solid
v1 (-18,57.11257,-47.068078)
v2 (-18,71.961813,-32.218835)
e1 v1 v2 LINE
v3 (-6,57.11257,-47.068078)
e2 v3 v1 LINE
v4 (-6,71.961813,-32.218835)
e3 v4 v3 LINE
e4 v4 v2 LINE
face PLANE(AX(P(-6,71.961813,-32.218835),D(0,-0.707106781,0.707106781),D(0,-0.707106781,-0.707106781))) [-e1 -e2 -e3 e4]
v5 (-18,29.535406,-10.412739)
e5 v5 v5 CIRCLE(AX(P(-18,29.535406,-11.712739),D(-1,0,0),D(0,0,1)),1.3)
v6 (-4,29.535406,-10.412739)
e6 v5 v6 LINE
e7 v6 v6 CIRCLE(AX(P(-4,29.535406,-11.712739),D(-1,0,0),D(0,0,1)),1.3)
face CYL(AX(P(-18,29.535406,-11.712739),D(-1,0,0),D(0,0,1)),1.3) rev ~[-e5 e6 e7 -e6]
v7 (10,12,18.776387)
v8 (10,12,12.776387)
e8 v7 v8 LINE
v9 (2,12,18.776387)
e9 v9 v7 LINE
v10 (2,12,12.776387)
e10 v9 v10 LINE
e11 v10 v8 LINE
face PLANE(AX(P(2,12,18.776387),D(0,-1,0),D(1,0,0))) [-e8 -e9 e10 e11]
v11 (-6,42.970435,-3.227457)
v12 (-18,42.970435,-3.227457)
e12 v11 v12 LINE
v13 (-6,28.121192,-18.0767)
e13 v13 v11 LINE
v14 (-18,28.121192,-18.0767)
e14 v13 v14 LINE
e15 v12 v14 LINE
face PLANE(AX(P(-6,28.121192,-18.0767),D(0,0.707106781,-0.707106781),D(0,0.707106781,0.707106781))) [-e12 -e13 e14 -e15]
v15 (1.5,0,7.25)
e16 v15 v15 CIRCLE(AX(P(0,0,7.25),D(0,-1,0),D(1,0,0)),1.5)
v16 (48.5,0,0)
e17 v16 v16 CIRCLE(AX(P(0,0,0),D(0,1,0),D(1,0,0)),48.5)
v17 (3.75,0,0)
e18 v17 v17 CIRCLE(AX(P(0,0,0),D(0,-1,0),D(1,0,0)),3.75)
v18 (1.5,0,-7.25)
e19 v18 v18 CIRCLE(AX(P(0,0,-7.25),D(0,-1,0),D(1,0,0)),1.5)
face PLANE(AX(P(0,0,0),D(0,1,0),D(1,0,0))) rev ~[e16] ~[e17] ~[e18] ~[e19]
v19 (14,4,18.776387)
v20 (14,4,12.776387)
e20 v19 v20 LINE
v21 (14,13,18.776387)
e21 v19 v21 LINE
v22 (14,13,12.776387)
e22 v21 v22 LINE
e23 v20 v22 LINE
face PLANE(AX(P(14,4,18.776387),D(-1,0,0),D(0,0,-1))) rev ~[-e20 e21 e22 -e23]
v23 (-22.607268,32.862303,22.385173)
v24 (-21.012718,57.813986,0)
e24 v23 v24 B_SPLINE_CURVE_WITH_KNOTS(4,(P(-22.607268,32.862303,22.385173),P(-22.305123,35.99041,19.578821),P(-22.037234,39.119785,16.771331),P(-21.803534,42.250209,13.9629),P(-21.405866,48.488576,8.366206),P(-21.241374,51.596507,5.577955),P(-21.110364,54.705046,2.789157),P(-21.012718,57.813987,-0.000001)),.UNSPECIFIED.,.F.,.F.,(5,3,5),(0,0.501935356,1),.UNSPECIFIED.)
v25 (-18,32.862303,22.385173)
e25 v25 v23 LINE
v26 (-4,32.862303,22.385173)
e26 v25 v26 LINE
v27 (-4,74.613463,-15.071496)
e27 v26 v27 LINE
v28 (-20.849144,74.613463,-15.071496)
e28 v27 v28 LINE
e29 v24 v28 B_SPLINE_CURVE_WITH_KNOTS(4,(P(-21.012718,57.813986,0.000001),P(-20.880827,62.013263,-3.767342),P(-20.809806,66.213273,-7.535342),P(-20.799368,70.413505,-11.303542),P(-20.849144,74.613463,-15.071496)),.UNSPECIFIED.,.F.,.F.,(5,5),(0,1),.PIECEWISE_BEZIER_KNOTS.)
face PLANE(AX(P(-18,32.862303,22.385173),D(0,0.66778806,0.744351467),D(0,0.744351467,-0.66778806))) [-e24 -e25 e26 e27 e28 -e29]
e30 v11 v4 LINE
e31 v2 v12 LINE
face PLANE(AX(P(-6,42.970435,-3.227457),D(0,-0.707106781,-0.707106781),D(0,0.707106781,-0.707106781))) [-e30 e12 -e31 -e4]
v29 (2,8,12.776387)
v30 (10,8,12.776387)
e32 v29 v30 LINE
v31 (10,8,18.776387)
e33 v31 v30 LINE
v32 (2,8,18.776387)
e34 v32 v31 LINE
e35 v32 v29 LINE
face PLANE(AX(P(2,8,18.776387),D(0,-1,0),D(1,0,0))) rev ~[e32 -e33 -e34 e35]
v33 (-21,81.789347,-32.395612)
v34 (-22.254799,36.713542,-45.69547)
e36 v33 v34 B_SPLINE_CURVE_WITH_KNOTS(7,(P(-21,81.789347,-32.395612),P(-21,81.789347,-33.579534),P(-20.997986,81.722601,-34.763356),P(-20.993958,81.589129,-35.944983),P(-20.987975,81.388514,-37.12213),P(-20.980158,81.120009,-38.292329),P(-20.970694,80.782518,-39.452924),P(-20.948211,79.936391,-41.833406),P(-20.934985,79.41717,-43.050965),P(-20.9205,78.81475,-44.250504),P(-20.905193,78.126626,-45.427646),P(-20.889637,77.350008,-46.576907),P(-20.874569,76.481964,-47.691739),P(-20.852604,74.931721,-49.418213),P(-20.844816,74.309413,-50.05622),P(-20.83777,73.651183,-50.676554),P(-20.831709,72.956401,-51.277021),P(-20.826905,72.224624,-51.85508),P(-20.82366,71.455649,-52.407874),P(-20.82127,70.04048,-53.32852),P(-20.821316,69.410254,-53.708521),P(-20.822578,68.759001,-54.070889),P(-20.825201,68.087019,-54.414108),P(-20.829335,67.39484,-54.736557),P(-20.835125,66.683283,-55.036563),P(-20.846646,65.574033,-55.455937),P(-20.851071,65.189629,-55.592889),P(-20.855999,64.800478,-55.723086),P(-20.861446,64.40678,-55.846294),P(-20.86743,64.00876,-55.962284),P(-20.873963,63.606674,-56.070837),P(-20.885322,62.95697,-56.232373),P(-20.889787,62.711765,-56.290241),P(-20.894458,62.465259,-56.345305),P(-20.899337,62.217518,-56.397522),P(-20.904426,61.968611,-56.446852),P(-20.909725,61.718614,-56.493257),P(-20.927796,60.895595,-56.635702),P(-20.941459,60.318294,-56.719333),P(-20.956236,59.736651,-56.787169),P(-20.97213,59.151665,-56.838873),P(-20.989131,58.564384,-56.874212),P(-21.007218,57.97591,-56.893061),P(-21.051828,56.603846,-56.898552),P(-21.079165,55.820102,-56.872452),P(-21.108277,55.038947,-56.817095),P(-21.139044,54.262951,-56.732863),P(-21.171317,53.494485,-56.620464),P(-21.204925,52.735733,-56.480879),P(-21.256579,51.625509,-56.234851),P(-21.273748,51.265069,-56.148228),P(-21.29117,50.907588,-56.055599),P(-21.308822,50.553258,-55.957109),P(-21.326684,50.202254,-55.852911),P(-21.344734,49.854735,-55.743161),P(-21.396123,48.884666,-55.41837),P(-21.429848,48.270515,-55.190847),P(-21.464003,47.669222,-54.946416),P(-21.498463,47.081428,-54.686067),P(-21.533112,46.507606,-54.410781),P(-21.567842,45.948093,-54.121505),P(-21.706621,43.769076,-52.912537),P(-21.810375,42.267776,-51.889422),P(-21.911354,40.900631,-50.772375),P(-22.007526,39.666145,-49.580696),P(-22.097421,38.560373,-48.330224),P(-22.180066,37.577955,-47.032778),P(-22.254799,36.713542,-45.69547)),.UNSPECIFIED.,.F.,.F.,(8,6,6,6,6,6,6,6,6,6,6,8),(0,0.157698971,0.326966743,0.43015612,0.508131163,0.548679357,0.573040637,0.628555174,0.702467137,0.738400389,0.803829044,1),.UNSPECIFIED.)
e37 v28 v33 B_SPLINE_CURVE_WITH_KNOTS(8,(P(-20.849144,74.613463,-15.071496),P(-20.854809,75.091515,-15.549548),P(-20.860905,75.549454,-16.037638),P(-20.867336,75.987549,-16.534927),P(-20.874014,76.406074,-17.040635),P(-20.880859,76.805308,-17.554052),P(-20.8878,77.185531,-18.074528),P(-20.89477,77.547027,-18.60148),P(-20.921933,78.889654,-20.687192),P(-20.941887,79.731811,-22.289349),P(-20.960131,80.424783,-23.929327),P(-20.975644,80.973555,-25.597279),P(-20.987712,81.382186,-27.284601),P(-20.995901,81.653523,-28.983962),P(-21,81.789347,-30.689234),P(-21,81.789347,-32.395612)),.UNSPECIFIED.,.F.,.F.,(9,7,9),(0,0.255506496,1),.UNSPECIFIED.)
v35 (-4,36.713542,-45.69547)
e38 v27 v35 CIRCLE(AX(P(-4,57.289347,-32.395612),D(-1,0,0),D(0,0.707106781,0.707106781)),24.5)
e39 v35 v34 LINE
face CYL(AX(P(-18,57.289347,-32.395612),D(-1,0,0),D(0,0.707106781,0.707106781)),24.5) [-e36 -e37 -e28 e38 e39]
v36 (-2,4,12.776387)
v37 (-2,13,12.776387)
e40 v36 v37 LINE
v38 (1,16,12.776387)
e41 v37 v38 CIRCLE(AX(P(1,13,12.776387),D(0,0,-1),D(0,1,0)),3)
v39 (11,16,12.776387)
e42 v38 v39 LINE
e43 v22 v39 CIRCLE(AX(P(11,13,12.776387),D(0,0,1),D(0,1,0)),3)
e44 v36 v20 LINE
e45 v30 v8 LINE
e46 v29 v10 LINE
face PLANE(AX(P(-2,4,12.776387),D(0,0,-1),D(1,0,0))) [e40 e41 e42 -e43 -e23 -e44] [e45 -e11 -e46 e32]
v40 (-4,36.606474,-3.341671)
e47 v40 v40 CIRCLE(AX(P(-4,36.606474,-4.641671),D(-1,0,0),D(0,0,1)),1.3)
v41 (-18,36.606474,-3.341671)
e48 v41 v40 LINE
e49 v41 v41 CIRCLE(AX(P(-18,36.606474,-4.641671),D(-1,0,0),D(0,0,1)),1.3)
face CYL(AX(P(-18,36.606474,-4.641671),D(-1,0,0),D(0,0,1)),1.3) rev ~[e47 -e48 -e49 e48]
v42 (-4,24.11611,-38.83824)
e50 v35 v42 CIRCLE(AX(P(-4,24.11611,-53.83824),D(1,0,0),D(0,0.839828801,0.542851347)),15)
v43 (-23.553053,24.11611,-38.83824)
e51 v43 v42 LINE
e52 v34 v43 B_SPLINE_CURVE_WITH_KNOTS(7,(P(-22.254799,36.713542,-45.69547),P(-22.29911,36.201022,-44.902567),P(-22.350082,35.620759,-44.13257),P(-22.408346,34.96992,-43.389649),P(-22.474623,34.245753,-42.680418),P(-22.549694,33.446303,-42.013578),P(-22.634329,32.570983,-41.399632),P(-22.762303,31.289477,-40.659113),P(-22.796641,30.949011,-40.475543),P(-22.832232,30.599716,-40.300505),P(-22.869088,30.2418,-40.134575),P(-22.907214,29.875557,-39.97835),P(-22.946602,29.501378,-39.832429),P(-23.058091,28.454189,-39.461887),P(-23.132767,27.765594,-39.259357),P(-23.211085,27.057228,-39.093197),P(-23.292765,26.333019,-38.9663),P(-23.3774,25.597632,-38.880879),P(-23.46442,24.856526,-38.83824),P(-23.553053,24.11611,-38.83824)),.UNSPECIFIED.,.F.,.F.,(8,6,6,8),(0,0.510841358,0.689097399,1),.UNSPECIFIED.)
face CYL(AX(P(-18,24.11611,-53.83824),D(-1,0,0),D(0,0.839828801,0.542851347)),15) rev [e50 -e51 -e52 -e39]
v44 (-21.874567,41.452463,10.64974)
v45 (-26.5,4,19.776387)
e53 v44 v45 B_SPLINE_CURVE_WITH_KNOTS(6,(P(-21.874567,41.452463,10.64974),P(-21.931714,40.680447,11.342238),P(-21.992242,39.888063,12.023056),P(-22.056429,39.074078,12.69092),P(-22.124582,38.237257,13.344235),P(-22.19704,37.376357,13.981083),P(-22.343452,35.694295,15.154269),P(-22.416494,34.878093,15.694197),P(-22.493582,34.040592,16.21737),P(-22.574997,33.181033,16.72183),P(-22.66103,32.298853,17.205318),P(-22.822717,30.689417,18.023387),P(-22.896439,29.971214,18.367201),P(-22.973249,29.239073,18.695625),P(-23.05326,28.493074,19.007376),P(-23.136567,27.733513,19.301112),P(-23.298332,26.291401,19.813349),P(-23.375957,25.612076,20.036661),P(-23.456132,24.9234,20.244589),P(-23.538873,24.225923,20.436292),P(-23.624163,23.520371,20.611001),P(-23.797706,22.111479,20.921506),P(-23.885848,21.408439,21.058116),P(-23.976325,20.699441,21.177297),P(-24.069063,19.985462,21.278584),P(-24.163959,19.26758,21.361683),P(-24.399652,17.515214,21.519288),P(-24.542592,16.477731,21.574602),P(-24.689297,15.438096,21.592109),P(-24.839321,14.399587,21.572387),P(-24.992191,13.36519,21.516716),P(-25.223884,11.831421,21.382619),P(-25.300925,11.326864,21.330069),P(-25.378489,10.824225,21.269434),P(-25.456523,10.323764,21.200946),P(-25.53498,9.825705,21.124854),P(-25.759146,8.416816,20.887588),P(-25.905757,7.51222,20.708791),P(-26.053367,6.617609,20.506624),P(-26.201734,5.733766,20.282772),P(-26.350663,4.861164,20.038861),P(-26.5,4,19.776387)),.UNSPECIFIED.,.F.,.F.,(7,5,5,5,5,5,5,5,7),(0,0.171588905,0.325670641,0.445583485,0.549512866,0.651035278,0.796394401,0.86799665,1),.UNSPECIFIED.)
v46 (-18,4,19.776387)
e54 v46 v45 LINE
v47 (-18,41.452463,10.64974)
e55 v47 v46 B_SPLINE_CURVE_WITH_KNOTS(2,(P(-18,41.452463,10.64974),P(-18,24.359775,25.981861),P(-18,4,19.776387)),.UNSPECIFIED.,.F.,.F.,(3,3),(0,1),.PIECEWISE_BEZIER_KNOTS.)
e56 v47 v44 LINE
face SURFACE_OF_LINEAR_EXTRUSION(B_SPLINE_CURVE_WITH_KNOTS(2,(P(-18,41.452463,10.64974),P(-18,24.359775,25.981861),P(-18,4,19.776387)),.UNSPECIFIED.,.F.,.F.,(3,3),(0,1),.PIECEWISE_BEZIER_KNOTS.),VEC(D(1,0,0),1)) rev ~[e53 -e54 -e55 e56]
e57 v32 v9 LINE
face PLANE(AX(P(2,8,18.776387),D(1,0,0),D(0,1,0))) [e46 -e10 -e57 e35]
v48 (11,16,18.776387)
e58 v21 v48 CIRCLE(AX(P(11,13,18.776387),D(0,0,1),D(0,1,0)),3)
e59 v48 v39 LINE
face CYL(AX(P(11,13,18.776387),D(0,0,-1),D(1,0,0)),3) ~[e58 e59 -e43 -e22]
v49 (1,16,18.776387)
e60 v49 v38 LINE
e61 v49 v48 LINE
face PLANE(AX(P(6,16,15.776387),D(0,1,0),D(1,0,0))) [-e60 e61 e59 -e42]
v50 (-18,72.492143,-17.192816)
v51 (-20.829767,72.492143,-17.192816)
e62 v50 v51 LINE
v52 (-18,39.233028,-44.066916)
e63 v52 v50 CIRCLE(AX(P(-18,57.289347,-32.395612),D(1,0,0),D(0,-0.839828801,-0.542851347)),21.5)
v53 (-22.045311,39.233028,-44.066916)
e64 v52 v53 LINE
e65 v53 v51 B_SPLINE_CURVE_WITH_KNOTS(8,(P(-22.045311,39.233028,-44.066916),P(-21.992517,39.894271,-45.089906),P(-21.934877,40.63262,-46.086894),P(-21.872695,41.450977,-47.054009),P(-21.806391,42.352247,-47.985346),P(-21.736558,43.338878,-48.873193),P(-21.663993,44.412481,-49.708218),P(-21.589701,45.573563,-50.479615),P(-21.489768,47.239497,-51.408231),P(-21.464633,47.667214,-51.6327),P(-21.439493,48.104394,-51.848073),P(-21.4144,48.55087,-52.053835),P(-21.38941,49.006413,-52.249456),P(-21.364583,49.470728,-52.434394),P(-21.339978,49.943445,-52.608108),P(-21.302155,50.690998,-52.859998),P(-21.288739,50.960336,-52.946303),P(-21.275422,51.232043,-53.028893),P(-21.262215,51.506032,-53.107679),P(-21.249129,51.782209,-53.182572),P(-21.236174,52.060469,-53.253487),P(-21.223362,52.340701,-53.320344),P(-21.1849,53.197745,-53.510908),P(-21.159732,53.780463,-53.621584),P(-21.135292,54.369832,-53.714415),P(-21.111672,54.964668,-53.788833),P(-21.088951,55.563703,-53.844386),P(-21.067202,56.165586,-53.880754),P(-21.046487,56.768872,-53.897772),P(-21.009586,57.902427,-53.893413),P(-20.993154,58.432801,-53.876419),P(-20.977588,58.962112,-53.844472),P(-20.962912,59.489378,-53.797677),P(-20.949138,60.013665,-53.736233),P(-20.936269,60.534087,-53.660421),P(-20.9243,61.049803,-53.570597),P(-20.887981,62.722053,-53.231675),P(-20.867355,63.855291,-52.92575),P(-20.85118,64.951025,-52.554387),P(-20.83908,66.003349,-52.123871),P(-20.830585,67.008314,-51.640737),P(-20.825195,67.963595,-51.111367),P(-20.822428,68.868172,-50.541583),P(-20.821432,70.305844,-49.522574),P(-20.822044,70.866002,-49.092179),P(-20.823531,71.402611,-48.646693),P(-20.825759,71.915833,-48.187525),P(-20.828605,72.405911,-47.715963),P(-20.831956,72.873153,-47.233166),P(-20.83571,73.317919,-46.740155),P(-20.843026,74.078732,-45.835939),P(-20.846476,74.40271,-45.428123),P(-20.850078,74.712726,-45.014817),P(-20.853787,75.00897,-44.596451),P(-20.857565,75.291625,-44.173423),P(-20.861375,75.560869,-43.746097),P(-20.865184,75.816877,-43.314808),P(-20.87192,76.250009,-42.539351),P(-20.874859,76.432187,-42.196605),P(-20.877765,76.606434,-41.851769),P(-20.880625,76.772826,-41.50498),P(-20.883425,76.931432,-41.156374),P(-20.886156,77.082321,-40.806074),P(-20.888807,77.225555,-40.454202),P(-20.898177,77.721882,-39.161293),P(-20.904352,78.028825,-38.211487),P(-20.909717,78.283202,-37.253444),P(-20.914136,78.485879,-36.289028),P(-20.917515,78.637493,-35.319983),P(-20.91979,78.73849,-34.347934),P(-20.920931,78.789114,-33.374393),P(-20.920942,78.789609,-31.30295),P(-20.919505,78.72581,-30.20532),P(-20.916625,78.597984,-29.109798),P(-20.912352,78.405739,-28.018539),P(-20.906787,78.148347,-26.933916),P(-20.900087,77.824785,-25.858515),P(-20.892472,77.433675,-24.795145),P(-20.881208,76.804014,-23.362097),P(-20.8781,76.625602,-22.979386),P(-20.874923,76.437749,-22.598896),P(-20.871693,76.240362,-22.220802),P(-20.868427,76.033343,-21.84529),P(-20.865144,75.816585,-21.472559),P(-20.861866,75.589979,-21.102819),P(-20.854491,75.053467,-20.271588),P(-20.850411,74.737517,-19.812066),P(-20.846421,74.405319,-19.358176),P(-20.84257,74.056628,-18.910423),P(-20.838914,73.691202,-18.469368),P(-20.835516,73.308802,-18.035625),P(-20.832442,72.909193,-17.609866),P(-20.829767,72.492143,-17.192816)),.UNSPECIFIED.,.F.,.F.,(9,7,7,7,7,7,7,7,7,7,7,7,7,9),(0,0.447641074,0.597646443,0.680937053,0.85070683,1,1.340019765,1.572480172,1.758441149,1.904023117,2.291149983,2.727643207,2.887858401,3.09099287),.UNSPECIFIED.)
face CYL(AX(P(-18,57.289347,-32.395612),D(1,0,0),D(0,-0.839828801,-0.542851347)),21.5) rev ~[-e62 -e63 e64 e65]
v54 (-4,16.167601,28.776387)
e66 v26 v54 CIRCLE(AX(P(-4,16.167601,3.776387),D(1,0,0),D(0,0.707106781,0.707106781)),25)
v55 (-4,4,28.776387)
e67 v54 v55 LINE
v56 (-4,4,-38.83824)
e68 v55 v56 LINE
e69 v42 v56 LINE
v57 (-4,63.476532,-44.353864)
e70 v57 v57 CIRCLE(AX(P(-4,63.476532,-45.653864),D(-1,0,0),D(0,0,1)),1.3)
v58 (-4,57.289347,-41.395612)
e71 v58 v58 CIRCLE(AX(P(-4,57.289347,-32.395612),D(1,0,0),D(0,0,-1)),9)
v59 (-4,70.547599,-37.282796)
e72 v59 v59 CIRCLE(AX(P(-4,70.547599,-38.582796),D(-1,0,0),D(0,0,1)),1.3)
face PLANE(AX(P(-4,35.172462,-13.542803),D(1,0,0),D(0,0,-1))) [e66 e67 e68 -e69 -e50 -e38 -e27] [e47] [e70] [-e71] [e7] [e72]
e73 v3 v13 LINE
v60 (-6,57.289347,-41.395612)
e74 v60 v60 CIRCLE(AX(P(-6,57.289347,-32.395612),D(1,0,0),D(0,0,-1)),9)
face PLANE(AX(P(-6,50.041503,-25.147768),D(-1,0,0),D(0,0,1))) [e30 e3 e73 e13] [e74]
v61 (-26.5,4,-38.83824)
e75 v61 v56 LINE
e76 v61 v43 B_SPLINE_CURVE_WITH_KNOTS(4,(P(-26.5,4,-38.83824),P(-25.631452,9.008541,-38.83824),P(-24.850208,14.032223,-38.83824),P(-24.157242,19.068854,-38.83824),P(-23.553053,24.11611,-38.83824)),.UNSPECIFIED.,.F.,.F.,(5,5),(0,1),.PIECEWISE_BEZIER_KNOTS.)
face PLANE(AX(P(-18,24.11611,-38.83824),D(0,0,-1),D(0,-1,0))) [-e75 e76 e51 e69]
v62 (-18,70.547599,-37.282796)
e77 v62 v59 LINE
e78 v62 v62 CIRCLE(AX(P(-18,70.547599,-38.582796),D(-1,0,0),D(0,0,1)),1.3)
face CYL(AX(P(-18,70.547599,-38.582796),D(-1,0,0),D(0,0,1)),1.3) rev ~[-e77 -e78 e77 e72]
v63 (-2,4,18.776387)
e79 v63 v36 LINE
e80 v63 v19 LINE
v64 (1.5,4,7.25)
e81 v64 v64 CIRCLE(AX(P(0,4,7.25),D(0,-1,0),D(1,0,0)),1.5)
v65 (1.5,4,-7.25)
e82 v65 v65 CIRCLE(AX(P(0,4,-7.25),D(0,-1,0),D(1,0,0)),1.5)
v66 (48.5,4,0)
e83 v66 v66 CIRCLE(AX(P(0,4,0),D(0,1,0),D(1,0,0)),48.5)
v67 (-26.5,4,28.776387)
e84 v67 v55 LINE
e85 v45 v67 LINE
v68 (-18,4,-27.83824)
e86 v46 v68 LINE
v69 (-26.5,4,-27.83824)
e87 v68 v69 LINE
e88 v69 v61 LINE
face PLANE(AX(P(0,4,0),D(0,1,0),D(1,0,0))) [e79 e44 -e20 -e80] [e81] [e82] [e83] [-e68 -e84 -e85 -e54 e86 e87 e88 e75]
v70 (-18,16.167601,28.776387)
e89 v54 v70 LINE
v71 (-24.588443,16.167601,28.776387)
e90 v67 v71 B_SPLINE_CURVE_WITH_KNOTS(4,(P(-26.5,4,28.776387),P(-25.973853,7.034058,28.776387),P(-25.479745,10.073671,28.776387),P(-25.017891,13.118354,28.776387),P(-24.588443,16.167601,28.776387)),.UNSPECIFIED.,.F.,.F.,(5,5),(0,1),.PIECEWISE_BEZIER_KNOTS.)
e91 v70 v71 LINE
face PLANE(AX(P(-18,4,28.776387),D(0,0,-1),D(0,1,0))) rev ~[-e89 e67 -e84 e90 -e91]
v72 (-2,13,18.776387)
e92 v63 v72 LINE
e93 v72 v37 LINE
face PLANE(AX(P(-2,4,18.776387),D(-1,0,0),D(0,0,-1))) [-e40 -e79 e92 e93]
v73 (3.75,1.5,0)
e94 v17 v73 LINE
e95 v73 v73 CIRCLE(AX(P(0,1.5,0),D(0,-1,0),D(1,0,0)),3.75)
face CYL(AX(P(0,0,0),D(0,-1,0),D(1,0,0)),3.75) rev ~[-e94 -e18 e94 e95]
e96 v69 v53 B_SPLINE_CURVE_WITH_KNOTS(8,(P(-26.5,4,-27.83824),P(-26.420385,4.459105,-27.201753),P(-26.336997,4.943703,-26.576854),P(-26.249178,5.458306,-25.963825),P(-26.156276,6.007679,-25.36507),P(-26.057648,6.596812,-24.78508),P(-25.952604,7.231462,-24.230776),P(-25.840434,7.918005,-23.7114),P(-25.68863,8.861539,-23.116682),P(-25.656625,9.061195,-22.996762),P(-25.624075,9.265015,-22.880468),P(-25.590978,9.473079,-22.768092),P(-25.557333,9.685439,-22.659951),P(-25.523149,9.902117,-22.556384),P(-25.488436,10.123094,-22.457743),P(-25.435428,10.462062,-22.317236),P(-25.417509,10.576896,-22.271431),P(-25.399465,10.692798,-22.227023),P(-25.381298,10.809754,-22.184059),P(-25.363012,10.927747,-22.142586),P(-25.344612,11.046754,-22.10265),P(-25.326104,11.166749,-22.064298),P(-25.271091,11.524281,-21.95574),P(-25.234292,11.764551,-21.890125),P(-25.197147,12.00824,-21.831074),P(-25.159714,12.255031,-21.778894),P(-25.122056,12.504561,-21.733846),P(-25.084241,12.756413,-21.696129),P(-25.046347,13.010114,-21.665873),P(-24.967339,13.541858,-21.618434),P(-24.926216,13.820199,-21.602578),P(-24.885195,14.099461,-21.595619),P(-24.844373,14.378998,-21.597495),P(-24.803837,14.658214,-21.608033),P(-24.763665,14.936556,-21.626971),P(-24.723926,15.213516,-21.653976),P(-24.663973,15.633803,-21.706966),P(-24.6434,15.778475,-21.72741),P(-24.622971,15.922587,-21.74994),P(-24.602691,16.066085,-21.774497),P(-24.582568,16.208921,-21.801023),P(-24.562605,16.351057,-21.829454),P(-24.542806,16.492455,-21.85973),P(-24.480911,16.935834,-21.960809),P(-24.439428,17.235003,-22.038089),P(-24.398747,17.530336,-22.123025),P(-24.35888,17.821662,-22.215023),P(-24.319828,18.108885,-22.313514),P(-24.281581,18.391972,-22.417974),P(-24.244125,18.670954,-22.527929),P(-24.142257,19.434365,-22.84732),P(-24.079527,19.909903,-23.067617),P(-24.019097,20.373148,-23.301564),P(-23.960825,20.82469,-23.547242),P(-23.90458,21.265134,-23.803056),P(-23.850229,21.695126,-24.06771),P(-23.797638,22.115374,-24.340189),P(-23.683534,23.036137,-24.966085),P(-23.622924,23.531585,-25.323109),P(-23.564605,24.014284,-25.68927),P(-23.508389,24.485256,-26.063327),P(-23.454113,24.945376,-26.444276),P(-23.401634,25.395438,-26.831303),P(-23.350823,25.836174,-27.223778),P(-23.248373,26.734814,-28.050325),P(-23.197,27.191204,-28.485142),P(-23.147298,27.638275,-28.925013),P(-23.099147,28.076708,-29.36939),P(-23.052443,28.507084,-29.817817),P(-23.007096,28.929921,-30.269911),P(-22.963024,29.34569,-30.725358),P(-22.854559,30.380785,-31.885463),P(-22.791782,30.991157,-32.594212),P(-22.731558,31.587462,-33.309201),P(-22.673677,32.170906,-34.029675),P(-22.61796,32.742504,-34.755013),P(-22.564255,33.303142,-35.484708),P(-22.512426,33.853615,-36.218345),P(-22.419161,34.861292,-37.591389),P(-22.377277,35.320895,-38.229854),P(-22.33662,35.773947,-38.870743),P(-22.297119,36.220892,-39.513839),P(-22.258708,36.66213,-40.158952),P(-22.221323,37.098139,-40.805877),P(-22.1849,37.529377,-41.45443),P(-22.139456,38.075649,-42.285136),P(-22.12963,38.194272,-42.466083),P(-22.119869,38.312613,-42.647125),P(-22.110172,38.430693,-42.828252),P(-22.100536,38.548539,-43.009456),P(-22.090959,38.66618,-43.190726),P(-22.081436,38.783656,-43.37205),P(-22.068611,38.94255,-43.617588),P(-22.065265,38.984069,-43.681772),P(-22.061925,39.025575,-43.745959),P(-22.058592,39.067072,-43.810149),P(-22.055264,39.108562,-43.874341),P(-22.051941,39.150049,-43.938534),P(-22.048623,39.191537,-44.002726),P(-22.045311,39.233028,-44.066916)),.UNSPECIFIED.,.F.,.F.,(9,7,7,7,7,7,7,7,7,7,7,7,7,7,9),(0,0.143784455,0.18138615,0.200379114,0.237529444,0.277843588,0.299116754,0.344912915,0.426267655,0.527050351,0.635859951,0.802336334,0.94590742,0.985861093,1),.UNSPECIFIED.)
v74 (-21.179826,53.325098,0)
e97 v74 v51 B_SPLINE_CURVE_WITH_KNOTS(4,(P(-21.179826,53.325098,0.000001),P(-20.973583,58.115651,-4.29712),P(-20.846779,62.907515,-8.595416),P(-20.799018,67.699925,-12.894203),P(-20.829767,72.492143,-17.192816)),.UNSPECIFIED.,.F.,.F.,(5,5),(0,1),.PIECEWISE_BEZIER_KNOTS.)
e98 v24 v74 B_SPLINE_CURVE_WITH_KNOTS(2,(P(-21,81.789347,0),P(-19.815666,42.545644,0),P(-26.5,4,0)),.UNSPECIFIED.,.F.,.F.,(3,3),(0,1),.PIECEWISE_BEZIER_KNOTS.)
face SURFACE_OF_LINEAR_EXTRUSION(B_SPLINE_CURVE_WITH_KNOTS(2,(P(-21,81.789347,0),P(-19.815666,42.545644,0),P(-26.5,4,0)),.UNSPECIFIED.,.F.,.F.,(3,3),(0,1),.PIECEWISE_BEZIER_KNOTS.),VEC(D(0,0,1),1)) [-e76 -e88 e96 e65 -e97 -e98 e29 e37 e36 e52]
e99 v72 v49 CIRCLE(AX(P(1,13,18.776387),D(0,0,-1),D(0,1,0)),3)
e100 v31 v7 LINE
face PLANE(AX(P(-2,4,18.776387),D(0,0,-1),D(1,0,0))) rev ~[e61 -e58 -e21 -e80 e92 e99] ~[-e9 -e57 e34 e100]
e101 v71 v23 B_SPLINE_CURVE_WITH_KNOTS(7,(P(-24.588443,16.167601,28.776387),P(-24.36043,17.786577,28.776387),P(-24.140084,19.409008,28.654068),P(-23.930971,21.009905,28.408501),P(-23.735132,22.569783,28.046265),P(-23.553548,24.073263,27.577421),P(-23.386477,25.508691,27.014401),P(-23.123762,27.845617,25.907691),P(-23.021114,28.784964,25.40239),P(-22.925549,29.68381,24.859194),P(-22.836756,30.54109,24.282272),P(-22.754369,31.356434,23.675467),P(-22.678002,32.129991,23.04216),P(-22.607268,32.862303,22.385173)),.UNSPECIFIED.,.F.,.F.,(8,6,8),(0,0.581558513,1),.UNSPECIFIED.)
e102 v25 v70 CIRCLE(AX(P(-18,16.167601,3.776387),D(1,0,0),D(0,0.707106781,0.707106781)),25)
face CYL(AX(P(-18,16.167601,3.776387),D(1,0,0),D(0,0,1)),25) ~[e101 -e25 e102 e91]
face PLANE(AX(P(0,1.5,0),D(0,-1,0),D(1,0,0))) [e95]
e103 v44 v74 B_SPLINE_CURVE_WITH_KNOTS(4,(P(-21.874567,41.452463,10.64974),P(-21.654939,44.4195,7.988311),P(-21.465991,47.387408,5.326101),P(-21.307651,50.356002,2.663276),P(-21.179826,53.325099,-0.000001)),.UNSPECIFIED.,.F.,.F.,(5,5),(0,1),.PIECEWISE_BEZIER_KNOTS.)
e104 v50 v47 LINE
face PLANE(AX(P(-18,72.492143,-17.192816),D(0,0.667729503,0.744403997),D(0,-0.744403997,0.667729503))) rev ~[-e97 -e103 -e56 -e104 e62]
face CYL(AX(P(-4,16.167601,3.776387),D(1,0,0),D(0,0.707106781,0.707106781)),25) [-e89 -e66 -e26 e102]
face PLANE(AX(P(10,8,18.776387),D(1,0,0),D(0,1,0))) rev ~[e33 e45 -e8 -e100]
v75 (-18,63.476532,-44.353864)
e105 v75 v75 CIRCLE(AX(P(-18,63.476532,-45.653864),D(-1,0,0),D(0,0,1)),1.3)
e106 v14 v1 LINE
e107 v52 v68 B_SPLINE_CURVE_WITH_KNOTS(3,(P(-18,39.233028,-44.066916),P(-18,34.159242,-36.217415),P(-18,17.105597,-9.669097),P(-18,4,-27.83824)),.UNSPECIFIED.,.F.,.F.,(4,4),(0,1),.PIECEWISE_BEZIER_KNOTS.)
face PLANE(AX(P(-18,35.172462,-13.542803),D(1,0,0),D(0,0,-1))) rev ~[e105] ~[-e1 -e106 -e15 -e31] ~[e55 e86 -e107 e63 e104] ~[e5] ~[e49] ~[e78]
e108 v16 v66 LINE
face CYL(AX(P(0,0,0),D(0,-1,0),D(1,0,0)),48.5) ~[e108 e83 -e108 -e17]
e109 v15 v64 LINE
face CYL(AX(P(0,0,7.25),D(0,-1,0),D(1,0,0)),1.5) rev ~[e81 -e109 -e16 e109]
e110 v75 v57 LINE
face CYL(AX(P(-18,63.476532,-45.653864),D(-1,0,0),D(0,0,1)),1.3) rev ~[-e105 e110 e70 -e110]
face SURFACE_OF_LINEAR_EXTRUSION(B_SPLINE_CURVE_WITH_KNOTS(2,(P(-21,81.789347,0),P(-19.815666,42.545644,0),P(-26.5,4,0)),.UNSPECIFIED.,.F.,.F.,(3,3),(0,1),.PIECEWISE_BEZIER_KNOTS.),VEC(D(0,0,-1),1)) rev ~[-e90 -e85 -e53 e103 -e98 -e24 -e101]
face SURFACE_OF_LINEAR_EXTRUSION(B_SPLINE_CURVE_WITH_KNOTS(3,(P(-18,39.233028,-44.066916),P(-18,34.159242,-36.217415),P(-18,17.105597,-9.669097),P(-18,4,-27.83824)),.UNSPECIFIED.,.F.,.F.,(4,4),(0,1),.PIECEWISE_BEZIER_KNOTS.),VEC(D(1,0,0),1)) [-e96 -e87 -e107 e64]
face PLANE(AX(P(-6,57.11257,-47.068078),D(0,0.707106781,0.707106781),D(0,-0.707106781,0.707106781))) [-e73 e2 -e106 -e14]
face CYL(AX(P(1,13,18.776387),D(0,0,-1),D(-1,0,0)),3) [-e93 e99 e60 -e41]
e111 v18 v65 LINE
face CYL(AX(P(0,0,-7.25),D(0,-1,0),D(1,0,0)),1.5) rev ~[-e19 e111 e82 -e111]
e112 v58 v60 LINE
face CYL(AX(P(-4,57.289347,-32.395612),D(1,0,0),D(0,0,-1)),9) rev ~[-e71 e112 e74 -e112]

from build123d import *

# Parameters (mm, degrees)
SKETCH2_R                = 48.5
BOSS_EXTRUDE1_DEPTH      = 4
SKETCH4_R                = 1.5
CUT_EXTRUDE2_DEPTH       = 5
SKETCH5_R                = 3.75
CUT_EXTRUDE3_DEPTH       = 1.5
BOSS_EXTRUDE2_DEPTH      = 14
CUT_EXTRUDE5_REACH       = 44.5
SKETCH9_R                = 1.3
CUT_EXTRUDE6_DEPTH       = 67.5
CUT_EXTRUDE9_REACH       = 46.5
SKETCH11_R               = 9
BOSS_EXTRUDE7_DEPTH      = 9
BOSS_EXTRUDE7_DEPTH_BACK = 14
BOSS_EXTRUDE10_DEPTH     = 9
SKETCH27_W               = 16
SKETCH27_H               = 6
BOSS_EXTRUDE11_DEPTH     = 12
FILLET6_R                = 3
CUT_EXTRUDE16_REACH      = 77.672
SKETCH28_W               = 8
SKETCH28_H               = 4
CUT_EXTRUDE17_DEPTH      = 49.5
CUT_EXTRUDE17_DEPTH_BACK = 57.89561214


with BuildPart() as part:
    # Sketch2 → Boss-Extrude1 (new body)
    with BuildSketch(Plane(origin=(0, 0, 0), x_dir=(1, 0, 0), z_dir=(0, 1, 0))):
        Circle(SKETCH2_R)
    extrude(amount=BOSS_EXTRUDE1_DEPTH)

    # Sketch4 → Cut-Extrude2 (cut, through all)
    with BuildSketch(Plane.XZ):
        with Locations((0, 7.25)):
            Circle(SKETCH4_R)
        with Locations((0, -7.25)):
            Circle(SKETCH4_R)
    extrude(amount=-CUT_EXTRUDE2_DEPTH, mode=Mode.SUBTRACT)

    # Sketch5 → Cut-Extrude3 (cut)
    with BuildSketch(Plane.XZ):
        Circle(SKETCH5_R)
    extrude(amount=-CUT_EXTRUDE3_DEPTH, mode=Mode.SUBTRACT)

    # Sketch7 → Boss-Extrude2 (add)
    with BuildSketch(Plane(origin=(-4, 0, 0), x_dir=(0, 0, -1), z_dir=(1, 0, 0))):
        with BuildLine():
            Line((35.838240239, 4), (35.838240239, 24.116109522))
            ThreePointArc((35.838240239, 24.116109522), (38.028688753, 32.721810064), (44.066915997, 39.233027943))
            ThreePointArc((44.066915997, 39.233027943), (49.118651286, 70.801932352), (17.192816244, 72.492142963))
            Line((17.192816244, 72.492142963), (-21.454056035, 33.845270684))
            ThreePointArc((-21.454056035, 33.845270684), (-26.873374818, 25.734686963), (-28.776386505, 16.167601154))
            Line((-28.776386505, 16.167601154), (-28.776386505, 4))
            Line((-28.776386505, 4), (35.838240239, 4))
        make_face()
    extrude(amount=-BOSS_EXTRUDE2_DEPTH)

    # Sketch8 → Cut-Extrude5 (cut, up to next)
    with BuildSketch(Plane(origin=(-6, 0, 0), x_dir=(0, 0, -1), z_dir=(1, 0, 0)), mode=Mode.PRIVATE) as cut_extrude5_sk1:
        Polygon((3.227457316, 42.970434849), (32.218835345, 71.961812877), (47.06807775, 57.112570472), (18.076699721, 28.121192444), align=None)
    cut_extrude5_tool1 = extrude(cut_extrude5_sk1.sketch, amount=-CUT_EXTRUDE5_REACH, mode=Mode.PRIVATE) & part.part
    add(cut_extrude5_tool1.solids().sort_by_distance((-6, 50.041503, -25.147768))[0], mode=Mode.SUBTRACT)

    # Sketch9 → Cut-Extrude6 (cut, through all)
    with BuildSketch(Plane.ZY.offset(18)):
        with Locations((-38.582796375, 70.547599315)):
            Circle(SKETCH9_R)
        with Locations((-45.653864187, 63.476531503)):
            Circle(SKETCH9_R)
        with Locations((-11.71273869, 29.535406006)):
            Circle(SKETCH9_R)
        with Locations((-4.641670878, 36.606473818)):
            Circle(SKETCH9_R)
    extrude(amount=-CUT_EXTRUDE6_DEPTH, mode=Mode.SUBTRACT)

    # Sketch11 → Cut-Extrude9 (cut, up to next)
    with BuildSketch(Plane(origin=(-4, 0, 0), x_dir=(0, 0, -1), z_dir=(1, 0, 0)), mode=Mode.PRIVATE) as cut_extrude9_sk1:
        with Locations((32.39561204, 57.289347168)):
            Circle(SKETCH11_R)
    cut_extrude9_tool1 = extrude(cut_extrude9_sk1.sketch, amount=-CUT_EXTRUDE9_REACH, mode=Mode.PRIVATE) & part.part
    add(cut_extrude9_tool1.solids().sort_by_distance((-4, 57.289347, -32.395612))[0], mode=Mode.SUBTRACT)

    # Sketch17 → Boss-Extrude7 (add, two sides)
    with BuildSketch(Plane.ZY.offset(18)) as boss_extrude7_sk:
        with BuildLine():
            ThreePointArc((28.776386505, 16.167601154), (27.123973821, 25.105731079), (22.385173182, 32.862302662))
            ThreePointArc((22.385173182, 32.862302662), (21.926270321, 33.360091302), (21.454056035, 33.845270684))
            Line((21.454056035, 33.845270684), (-17.192816244, 72.492142963))
            Line((-17.192816244, 72.492142963), (20.153274432, 30.85765023))
            ThreePointArc((20.153274432, 30.85765023), (24.322572701, 24.032347355), (25.776386505, 16.167601154))
            Line((25.776386505, 16.167601154), (25.776386505, 4))
            Line((25.776386505, 4), (28.776386505, 4))
            Line((28.776386505, 4), (28.776386505, 16.167601154))
        make_face()
        with BuildLine():
            Line((22.385173182, 32.862302662), (-15.071495901, 74.613463307))
            ThreePointArc((-15.071495901, 74.613463307), (-51.452098623, 72.687409354), (-45.695470037, 36.713541539))
            ThreePointArc((-45.695470037, 36.713541539), (-40.663614001, 31.28752664), (-38.838240239, 24.116109522))
            Line((-38.838240239, 24.116109522), (-38.838240239, 4))
            Line((-38.838240239, 4), (-35.838240239, 4))
            Line((-35.838240239, 4), (-35.838240239, 24.116109522))
            ThreePointArc((-35.838240239, 24.116109522), (-38.028688753, 32.721810064), (-44.066915997, 39.233027943))
            ThreePointArc((-44.066915997, 39.233027943), (-49.118651286, 70.801932352), (-17.192816244, 72.492142963))
            Line((-17.192816244, 72.492142963), (21.454056035, 33.845270684))
            ThreePointArc((21.454056035, 33.845270684), (21.926270321, 33.360091302), (22.385173182, 32.862302662))
        make_face()
    extrude(amount=BOSS_EXTRUDE7_DEPTH)
    extrude(boss_extrude7_sk.sketch, amount=-BOSS_EXTRUDE7_DEPTH_BACK)

    # Sketch25 → Boss-Extrude10 (add)
    with BuildSketch(Plane.ZY.offset(18)):
        with BuildLine():
            ThreePointArc((-44.066915997, 39.233027943), (-38.028688753, 32.721810064), (-35.838240239, 24.116109522))
            Line((-35.838240239, 24.116109522), (-35.838240239, 4))
            Line((-35.838240239, 4), (-27.838240239, 4))
            add(Edge.make_bspline(
                [(-44.066915997, 39.233027943), (-36.217415427, 34.159241535), (-9.669096592, 17.105596636), (-27.838240239, 4)],
                knots=[0, 0, 0, 0, 1, 1, 1, 1], degree=3))
        make_face()
        with BuildLine():
            add(Edge.make_bspline(
                [(10.649740153, 41.452462744), (25.981861033, 24.35977476), (19.776386505, 4)],
                knots=[0, 0, 0, 1, 1, 1], degree=2))
            Line((19.776386505, 4), (25.776386505, 4))
            Line((25.776386505, 4), (25.776386505, 16.167601154))
            ThreePointArc((25.776386505, 16.167601154), (24.322572701, 24.032347355), (20.153274432, 30.85765023))
            Line((20.153274432, 30.85765023), (10.649740153, 41.452462744))
        make_face()
    extrude(amount=BOSS_EXTRUDE10_DEPTH)

    # Sketch27 → Boss-Extrude11 (add)
    with BuildSketch(Plane(origin=(0, 4, 0), x_dir=(1, 0, 0), z_dir=(0, 1, 0))):
        with Locations((6, -15.776386505)):
            Rectangle(SKETCH27_W, SKETCH27_H)
    extrude(amount=BOSS_EXTRUDE11_DEPTH)

    # Fillet6
    fillet6_edges = [part.edges().sort_by_distance(p)[0] for p in [
        (-2, 16, 15.776386505),
        (14, 16, 15.776386505),
    ]]
    fillet(fillet6_edges, radius=FILLET6_R)

    # Sketch28 → Cut-Extrude16 (cut, up to next)
    with BuildSketch(Plane.XY.offset(18.776386505), mode=Mode.PRIVATE) as cut_extrude16_sk1:
        with Locations((6, 10)):
            Rectangle(SKETCH28_W, SKETCH28_H)
    cut_extrude16_tool1 = extrude(cut_extrude16_sk1.sketch, amount=-CUT_EXTRUDE16_REACH, mode=Mode.PRIVATE) & part.part
    add(cut_extrude16_tool1.solids().sort_by_distance((6, 10, 18.776387))[0], mode=Mode.SUBTRACT)

    # Sketch29 → Cut-Extrude17 (cut, two sides)
    with BuildSketch(Plane.XY) as cut_extrude17_sk:
        with BuildLine():
            Line((-21, 81.789347168), (-27, 81.789347168))
            Line((-27, 81.789347168), (-27, 4))
            Line((-27, 4), (-26.5, 4))
            add(Edge.make_bspline(
                [(-21, 81.789347168), (-19.81566604, 42.545643995), (-26.5, 4)],
                knots=[0, 0, 0, 1, 1, 1], degree=2))
        make_face()
    extrude(amount=CUT_EXTRUDE17_DEPTH, mode=Mode.SUBTRACT)
    extrude(cut_extrude17_sk.sketch, amount=-CUT_EXTRUDE17_DEPTH_BACK, mode=Mode.SUBTRACT)


solid = part.part
